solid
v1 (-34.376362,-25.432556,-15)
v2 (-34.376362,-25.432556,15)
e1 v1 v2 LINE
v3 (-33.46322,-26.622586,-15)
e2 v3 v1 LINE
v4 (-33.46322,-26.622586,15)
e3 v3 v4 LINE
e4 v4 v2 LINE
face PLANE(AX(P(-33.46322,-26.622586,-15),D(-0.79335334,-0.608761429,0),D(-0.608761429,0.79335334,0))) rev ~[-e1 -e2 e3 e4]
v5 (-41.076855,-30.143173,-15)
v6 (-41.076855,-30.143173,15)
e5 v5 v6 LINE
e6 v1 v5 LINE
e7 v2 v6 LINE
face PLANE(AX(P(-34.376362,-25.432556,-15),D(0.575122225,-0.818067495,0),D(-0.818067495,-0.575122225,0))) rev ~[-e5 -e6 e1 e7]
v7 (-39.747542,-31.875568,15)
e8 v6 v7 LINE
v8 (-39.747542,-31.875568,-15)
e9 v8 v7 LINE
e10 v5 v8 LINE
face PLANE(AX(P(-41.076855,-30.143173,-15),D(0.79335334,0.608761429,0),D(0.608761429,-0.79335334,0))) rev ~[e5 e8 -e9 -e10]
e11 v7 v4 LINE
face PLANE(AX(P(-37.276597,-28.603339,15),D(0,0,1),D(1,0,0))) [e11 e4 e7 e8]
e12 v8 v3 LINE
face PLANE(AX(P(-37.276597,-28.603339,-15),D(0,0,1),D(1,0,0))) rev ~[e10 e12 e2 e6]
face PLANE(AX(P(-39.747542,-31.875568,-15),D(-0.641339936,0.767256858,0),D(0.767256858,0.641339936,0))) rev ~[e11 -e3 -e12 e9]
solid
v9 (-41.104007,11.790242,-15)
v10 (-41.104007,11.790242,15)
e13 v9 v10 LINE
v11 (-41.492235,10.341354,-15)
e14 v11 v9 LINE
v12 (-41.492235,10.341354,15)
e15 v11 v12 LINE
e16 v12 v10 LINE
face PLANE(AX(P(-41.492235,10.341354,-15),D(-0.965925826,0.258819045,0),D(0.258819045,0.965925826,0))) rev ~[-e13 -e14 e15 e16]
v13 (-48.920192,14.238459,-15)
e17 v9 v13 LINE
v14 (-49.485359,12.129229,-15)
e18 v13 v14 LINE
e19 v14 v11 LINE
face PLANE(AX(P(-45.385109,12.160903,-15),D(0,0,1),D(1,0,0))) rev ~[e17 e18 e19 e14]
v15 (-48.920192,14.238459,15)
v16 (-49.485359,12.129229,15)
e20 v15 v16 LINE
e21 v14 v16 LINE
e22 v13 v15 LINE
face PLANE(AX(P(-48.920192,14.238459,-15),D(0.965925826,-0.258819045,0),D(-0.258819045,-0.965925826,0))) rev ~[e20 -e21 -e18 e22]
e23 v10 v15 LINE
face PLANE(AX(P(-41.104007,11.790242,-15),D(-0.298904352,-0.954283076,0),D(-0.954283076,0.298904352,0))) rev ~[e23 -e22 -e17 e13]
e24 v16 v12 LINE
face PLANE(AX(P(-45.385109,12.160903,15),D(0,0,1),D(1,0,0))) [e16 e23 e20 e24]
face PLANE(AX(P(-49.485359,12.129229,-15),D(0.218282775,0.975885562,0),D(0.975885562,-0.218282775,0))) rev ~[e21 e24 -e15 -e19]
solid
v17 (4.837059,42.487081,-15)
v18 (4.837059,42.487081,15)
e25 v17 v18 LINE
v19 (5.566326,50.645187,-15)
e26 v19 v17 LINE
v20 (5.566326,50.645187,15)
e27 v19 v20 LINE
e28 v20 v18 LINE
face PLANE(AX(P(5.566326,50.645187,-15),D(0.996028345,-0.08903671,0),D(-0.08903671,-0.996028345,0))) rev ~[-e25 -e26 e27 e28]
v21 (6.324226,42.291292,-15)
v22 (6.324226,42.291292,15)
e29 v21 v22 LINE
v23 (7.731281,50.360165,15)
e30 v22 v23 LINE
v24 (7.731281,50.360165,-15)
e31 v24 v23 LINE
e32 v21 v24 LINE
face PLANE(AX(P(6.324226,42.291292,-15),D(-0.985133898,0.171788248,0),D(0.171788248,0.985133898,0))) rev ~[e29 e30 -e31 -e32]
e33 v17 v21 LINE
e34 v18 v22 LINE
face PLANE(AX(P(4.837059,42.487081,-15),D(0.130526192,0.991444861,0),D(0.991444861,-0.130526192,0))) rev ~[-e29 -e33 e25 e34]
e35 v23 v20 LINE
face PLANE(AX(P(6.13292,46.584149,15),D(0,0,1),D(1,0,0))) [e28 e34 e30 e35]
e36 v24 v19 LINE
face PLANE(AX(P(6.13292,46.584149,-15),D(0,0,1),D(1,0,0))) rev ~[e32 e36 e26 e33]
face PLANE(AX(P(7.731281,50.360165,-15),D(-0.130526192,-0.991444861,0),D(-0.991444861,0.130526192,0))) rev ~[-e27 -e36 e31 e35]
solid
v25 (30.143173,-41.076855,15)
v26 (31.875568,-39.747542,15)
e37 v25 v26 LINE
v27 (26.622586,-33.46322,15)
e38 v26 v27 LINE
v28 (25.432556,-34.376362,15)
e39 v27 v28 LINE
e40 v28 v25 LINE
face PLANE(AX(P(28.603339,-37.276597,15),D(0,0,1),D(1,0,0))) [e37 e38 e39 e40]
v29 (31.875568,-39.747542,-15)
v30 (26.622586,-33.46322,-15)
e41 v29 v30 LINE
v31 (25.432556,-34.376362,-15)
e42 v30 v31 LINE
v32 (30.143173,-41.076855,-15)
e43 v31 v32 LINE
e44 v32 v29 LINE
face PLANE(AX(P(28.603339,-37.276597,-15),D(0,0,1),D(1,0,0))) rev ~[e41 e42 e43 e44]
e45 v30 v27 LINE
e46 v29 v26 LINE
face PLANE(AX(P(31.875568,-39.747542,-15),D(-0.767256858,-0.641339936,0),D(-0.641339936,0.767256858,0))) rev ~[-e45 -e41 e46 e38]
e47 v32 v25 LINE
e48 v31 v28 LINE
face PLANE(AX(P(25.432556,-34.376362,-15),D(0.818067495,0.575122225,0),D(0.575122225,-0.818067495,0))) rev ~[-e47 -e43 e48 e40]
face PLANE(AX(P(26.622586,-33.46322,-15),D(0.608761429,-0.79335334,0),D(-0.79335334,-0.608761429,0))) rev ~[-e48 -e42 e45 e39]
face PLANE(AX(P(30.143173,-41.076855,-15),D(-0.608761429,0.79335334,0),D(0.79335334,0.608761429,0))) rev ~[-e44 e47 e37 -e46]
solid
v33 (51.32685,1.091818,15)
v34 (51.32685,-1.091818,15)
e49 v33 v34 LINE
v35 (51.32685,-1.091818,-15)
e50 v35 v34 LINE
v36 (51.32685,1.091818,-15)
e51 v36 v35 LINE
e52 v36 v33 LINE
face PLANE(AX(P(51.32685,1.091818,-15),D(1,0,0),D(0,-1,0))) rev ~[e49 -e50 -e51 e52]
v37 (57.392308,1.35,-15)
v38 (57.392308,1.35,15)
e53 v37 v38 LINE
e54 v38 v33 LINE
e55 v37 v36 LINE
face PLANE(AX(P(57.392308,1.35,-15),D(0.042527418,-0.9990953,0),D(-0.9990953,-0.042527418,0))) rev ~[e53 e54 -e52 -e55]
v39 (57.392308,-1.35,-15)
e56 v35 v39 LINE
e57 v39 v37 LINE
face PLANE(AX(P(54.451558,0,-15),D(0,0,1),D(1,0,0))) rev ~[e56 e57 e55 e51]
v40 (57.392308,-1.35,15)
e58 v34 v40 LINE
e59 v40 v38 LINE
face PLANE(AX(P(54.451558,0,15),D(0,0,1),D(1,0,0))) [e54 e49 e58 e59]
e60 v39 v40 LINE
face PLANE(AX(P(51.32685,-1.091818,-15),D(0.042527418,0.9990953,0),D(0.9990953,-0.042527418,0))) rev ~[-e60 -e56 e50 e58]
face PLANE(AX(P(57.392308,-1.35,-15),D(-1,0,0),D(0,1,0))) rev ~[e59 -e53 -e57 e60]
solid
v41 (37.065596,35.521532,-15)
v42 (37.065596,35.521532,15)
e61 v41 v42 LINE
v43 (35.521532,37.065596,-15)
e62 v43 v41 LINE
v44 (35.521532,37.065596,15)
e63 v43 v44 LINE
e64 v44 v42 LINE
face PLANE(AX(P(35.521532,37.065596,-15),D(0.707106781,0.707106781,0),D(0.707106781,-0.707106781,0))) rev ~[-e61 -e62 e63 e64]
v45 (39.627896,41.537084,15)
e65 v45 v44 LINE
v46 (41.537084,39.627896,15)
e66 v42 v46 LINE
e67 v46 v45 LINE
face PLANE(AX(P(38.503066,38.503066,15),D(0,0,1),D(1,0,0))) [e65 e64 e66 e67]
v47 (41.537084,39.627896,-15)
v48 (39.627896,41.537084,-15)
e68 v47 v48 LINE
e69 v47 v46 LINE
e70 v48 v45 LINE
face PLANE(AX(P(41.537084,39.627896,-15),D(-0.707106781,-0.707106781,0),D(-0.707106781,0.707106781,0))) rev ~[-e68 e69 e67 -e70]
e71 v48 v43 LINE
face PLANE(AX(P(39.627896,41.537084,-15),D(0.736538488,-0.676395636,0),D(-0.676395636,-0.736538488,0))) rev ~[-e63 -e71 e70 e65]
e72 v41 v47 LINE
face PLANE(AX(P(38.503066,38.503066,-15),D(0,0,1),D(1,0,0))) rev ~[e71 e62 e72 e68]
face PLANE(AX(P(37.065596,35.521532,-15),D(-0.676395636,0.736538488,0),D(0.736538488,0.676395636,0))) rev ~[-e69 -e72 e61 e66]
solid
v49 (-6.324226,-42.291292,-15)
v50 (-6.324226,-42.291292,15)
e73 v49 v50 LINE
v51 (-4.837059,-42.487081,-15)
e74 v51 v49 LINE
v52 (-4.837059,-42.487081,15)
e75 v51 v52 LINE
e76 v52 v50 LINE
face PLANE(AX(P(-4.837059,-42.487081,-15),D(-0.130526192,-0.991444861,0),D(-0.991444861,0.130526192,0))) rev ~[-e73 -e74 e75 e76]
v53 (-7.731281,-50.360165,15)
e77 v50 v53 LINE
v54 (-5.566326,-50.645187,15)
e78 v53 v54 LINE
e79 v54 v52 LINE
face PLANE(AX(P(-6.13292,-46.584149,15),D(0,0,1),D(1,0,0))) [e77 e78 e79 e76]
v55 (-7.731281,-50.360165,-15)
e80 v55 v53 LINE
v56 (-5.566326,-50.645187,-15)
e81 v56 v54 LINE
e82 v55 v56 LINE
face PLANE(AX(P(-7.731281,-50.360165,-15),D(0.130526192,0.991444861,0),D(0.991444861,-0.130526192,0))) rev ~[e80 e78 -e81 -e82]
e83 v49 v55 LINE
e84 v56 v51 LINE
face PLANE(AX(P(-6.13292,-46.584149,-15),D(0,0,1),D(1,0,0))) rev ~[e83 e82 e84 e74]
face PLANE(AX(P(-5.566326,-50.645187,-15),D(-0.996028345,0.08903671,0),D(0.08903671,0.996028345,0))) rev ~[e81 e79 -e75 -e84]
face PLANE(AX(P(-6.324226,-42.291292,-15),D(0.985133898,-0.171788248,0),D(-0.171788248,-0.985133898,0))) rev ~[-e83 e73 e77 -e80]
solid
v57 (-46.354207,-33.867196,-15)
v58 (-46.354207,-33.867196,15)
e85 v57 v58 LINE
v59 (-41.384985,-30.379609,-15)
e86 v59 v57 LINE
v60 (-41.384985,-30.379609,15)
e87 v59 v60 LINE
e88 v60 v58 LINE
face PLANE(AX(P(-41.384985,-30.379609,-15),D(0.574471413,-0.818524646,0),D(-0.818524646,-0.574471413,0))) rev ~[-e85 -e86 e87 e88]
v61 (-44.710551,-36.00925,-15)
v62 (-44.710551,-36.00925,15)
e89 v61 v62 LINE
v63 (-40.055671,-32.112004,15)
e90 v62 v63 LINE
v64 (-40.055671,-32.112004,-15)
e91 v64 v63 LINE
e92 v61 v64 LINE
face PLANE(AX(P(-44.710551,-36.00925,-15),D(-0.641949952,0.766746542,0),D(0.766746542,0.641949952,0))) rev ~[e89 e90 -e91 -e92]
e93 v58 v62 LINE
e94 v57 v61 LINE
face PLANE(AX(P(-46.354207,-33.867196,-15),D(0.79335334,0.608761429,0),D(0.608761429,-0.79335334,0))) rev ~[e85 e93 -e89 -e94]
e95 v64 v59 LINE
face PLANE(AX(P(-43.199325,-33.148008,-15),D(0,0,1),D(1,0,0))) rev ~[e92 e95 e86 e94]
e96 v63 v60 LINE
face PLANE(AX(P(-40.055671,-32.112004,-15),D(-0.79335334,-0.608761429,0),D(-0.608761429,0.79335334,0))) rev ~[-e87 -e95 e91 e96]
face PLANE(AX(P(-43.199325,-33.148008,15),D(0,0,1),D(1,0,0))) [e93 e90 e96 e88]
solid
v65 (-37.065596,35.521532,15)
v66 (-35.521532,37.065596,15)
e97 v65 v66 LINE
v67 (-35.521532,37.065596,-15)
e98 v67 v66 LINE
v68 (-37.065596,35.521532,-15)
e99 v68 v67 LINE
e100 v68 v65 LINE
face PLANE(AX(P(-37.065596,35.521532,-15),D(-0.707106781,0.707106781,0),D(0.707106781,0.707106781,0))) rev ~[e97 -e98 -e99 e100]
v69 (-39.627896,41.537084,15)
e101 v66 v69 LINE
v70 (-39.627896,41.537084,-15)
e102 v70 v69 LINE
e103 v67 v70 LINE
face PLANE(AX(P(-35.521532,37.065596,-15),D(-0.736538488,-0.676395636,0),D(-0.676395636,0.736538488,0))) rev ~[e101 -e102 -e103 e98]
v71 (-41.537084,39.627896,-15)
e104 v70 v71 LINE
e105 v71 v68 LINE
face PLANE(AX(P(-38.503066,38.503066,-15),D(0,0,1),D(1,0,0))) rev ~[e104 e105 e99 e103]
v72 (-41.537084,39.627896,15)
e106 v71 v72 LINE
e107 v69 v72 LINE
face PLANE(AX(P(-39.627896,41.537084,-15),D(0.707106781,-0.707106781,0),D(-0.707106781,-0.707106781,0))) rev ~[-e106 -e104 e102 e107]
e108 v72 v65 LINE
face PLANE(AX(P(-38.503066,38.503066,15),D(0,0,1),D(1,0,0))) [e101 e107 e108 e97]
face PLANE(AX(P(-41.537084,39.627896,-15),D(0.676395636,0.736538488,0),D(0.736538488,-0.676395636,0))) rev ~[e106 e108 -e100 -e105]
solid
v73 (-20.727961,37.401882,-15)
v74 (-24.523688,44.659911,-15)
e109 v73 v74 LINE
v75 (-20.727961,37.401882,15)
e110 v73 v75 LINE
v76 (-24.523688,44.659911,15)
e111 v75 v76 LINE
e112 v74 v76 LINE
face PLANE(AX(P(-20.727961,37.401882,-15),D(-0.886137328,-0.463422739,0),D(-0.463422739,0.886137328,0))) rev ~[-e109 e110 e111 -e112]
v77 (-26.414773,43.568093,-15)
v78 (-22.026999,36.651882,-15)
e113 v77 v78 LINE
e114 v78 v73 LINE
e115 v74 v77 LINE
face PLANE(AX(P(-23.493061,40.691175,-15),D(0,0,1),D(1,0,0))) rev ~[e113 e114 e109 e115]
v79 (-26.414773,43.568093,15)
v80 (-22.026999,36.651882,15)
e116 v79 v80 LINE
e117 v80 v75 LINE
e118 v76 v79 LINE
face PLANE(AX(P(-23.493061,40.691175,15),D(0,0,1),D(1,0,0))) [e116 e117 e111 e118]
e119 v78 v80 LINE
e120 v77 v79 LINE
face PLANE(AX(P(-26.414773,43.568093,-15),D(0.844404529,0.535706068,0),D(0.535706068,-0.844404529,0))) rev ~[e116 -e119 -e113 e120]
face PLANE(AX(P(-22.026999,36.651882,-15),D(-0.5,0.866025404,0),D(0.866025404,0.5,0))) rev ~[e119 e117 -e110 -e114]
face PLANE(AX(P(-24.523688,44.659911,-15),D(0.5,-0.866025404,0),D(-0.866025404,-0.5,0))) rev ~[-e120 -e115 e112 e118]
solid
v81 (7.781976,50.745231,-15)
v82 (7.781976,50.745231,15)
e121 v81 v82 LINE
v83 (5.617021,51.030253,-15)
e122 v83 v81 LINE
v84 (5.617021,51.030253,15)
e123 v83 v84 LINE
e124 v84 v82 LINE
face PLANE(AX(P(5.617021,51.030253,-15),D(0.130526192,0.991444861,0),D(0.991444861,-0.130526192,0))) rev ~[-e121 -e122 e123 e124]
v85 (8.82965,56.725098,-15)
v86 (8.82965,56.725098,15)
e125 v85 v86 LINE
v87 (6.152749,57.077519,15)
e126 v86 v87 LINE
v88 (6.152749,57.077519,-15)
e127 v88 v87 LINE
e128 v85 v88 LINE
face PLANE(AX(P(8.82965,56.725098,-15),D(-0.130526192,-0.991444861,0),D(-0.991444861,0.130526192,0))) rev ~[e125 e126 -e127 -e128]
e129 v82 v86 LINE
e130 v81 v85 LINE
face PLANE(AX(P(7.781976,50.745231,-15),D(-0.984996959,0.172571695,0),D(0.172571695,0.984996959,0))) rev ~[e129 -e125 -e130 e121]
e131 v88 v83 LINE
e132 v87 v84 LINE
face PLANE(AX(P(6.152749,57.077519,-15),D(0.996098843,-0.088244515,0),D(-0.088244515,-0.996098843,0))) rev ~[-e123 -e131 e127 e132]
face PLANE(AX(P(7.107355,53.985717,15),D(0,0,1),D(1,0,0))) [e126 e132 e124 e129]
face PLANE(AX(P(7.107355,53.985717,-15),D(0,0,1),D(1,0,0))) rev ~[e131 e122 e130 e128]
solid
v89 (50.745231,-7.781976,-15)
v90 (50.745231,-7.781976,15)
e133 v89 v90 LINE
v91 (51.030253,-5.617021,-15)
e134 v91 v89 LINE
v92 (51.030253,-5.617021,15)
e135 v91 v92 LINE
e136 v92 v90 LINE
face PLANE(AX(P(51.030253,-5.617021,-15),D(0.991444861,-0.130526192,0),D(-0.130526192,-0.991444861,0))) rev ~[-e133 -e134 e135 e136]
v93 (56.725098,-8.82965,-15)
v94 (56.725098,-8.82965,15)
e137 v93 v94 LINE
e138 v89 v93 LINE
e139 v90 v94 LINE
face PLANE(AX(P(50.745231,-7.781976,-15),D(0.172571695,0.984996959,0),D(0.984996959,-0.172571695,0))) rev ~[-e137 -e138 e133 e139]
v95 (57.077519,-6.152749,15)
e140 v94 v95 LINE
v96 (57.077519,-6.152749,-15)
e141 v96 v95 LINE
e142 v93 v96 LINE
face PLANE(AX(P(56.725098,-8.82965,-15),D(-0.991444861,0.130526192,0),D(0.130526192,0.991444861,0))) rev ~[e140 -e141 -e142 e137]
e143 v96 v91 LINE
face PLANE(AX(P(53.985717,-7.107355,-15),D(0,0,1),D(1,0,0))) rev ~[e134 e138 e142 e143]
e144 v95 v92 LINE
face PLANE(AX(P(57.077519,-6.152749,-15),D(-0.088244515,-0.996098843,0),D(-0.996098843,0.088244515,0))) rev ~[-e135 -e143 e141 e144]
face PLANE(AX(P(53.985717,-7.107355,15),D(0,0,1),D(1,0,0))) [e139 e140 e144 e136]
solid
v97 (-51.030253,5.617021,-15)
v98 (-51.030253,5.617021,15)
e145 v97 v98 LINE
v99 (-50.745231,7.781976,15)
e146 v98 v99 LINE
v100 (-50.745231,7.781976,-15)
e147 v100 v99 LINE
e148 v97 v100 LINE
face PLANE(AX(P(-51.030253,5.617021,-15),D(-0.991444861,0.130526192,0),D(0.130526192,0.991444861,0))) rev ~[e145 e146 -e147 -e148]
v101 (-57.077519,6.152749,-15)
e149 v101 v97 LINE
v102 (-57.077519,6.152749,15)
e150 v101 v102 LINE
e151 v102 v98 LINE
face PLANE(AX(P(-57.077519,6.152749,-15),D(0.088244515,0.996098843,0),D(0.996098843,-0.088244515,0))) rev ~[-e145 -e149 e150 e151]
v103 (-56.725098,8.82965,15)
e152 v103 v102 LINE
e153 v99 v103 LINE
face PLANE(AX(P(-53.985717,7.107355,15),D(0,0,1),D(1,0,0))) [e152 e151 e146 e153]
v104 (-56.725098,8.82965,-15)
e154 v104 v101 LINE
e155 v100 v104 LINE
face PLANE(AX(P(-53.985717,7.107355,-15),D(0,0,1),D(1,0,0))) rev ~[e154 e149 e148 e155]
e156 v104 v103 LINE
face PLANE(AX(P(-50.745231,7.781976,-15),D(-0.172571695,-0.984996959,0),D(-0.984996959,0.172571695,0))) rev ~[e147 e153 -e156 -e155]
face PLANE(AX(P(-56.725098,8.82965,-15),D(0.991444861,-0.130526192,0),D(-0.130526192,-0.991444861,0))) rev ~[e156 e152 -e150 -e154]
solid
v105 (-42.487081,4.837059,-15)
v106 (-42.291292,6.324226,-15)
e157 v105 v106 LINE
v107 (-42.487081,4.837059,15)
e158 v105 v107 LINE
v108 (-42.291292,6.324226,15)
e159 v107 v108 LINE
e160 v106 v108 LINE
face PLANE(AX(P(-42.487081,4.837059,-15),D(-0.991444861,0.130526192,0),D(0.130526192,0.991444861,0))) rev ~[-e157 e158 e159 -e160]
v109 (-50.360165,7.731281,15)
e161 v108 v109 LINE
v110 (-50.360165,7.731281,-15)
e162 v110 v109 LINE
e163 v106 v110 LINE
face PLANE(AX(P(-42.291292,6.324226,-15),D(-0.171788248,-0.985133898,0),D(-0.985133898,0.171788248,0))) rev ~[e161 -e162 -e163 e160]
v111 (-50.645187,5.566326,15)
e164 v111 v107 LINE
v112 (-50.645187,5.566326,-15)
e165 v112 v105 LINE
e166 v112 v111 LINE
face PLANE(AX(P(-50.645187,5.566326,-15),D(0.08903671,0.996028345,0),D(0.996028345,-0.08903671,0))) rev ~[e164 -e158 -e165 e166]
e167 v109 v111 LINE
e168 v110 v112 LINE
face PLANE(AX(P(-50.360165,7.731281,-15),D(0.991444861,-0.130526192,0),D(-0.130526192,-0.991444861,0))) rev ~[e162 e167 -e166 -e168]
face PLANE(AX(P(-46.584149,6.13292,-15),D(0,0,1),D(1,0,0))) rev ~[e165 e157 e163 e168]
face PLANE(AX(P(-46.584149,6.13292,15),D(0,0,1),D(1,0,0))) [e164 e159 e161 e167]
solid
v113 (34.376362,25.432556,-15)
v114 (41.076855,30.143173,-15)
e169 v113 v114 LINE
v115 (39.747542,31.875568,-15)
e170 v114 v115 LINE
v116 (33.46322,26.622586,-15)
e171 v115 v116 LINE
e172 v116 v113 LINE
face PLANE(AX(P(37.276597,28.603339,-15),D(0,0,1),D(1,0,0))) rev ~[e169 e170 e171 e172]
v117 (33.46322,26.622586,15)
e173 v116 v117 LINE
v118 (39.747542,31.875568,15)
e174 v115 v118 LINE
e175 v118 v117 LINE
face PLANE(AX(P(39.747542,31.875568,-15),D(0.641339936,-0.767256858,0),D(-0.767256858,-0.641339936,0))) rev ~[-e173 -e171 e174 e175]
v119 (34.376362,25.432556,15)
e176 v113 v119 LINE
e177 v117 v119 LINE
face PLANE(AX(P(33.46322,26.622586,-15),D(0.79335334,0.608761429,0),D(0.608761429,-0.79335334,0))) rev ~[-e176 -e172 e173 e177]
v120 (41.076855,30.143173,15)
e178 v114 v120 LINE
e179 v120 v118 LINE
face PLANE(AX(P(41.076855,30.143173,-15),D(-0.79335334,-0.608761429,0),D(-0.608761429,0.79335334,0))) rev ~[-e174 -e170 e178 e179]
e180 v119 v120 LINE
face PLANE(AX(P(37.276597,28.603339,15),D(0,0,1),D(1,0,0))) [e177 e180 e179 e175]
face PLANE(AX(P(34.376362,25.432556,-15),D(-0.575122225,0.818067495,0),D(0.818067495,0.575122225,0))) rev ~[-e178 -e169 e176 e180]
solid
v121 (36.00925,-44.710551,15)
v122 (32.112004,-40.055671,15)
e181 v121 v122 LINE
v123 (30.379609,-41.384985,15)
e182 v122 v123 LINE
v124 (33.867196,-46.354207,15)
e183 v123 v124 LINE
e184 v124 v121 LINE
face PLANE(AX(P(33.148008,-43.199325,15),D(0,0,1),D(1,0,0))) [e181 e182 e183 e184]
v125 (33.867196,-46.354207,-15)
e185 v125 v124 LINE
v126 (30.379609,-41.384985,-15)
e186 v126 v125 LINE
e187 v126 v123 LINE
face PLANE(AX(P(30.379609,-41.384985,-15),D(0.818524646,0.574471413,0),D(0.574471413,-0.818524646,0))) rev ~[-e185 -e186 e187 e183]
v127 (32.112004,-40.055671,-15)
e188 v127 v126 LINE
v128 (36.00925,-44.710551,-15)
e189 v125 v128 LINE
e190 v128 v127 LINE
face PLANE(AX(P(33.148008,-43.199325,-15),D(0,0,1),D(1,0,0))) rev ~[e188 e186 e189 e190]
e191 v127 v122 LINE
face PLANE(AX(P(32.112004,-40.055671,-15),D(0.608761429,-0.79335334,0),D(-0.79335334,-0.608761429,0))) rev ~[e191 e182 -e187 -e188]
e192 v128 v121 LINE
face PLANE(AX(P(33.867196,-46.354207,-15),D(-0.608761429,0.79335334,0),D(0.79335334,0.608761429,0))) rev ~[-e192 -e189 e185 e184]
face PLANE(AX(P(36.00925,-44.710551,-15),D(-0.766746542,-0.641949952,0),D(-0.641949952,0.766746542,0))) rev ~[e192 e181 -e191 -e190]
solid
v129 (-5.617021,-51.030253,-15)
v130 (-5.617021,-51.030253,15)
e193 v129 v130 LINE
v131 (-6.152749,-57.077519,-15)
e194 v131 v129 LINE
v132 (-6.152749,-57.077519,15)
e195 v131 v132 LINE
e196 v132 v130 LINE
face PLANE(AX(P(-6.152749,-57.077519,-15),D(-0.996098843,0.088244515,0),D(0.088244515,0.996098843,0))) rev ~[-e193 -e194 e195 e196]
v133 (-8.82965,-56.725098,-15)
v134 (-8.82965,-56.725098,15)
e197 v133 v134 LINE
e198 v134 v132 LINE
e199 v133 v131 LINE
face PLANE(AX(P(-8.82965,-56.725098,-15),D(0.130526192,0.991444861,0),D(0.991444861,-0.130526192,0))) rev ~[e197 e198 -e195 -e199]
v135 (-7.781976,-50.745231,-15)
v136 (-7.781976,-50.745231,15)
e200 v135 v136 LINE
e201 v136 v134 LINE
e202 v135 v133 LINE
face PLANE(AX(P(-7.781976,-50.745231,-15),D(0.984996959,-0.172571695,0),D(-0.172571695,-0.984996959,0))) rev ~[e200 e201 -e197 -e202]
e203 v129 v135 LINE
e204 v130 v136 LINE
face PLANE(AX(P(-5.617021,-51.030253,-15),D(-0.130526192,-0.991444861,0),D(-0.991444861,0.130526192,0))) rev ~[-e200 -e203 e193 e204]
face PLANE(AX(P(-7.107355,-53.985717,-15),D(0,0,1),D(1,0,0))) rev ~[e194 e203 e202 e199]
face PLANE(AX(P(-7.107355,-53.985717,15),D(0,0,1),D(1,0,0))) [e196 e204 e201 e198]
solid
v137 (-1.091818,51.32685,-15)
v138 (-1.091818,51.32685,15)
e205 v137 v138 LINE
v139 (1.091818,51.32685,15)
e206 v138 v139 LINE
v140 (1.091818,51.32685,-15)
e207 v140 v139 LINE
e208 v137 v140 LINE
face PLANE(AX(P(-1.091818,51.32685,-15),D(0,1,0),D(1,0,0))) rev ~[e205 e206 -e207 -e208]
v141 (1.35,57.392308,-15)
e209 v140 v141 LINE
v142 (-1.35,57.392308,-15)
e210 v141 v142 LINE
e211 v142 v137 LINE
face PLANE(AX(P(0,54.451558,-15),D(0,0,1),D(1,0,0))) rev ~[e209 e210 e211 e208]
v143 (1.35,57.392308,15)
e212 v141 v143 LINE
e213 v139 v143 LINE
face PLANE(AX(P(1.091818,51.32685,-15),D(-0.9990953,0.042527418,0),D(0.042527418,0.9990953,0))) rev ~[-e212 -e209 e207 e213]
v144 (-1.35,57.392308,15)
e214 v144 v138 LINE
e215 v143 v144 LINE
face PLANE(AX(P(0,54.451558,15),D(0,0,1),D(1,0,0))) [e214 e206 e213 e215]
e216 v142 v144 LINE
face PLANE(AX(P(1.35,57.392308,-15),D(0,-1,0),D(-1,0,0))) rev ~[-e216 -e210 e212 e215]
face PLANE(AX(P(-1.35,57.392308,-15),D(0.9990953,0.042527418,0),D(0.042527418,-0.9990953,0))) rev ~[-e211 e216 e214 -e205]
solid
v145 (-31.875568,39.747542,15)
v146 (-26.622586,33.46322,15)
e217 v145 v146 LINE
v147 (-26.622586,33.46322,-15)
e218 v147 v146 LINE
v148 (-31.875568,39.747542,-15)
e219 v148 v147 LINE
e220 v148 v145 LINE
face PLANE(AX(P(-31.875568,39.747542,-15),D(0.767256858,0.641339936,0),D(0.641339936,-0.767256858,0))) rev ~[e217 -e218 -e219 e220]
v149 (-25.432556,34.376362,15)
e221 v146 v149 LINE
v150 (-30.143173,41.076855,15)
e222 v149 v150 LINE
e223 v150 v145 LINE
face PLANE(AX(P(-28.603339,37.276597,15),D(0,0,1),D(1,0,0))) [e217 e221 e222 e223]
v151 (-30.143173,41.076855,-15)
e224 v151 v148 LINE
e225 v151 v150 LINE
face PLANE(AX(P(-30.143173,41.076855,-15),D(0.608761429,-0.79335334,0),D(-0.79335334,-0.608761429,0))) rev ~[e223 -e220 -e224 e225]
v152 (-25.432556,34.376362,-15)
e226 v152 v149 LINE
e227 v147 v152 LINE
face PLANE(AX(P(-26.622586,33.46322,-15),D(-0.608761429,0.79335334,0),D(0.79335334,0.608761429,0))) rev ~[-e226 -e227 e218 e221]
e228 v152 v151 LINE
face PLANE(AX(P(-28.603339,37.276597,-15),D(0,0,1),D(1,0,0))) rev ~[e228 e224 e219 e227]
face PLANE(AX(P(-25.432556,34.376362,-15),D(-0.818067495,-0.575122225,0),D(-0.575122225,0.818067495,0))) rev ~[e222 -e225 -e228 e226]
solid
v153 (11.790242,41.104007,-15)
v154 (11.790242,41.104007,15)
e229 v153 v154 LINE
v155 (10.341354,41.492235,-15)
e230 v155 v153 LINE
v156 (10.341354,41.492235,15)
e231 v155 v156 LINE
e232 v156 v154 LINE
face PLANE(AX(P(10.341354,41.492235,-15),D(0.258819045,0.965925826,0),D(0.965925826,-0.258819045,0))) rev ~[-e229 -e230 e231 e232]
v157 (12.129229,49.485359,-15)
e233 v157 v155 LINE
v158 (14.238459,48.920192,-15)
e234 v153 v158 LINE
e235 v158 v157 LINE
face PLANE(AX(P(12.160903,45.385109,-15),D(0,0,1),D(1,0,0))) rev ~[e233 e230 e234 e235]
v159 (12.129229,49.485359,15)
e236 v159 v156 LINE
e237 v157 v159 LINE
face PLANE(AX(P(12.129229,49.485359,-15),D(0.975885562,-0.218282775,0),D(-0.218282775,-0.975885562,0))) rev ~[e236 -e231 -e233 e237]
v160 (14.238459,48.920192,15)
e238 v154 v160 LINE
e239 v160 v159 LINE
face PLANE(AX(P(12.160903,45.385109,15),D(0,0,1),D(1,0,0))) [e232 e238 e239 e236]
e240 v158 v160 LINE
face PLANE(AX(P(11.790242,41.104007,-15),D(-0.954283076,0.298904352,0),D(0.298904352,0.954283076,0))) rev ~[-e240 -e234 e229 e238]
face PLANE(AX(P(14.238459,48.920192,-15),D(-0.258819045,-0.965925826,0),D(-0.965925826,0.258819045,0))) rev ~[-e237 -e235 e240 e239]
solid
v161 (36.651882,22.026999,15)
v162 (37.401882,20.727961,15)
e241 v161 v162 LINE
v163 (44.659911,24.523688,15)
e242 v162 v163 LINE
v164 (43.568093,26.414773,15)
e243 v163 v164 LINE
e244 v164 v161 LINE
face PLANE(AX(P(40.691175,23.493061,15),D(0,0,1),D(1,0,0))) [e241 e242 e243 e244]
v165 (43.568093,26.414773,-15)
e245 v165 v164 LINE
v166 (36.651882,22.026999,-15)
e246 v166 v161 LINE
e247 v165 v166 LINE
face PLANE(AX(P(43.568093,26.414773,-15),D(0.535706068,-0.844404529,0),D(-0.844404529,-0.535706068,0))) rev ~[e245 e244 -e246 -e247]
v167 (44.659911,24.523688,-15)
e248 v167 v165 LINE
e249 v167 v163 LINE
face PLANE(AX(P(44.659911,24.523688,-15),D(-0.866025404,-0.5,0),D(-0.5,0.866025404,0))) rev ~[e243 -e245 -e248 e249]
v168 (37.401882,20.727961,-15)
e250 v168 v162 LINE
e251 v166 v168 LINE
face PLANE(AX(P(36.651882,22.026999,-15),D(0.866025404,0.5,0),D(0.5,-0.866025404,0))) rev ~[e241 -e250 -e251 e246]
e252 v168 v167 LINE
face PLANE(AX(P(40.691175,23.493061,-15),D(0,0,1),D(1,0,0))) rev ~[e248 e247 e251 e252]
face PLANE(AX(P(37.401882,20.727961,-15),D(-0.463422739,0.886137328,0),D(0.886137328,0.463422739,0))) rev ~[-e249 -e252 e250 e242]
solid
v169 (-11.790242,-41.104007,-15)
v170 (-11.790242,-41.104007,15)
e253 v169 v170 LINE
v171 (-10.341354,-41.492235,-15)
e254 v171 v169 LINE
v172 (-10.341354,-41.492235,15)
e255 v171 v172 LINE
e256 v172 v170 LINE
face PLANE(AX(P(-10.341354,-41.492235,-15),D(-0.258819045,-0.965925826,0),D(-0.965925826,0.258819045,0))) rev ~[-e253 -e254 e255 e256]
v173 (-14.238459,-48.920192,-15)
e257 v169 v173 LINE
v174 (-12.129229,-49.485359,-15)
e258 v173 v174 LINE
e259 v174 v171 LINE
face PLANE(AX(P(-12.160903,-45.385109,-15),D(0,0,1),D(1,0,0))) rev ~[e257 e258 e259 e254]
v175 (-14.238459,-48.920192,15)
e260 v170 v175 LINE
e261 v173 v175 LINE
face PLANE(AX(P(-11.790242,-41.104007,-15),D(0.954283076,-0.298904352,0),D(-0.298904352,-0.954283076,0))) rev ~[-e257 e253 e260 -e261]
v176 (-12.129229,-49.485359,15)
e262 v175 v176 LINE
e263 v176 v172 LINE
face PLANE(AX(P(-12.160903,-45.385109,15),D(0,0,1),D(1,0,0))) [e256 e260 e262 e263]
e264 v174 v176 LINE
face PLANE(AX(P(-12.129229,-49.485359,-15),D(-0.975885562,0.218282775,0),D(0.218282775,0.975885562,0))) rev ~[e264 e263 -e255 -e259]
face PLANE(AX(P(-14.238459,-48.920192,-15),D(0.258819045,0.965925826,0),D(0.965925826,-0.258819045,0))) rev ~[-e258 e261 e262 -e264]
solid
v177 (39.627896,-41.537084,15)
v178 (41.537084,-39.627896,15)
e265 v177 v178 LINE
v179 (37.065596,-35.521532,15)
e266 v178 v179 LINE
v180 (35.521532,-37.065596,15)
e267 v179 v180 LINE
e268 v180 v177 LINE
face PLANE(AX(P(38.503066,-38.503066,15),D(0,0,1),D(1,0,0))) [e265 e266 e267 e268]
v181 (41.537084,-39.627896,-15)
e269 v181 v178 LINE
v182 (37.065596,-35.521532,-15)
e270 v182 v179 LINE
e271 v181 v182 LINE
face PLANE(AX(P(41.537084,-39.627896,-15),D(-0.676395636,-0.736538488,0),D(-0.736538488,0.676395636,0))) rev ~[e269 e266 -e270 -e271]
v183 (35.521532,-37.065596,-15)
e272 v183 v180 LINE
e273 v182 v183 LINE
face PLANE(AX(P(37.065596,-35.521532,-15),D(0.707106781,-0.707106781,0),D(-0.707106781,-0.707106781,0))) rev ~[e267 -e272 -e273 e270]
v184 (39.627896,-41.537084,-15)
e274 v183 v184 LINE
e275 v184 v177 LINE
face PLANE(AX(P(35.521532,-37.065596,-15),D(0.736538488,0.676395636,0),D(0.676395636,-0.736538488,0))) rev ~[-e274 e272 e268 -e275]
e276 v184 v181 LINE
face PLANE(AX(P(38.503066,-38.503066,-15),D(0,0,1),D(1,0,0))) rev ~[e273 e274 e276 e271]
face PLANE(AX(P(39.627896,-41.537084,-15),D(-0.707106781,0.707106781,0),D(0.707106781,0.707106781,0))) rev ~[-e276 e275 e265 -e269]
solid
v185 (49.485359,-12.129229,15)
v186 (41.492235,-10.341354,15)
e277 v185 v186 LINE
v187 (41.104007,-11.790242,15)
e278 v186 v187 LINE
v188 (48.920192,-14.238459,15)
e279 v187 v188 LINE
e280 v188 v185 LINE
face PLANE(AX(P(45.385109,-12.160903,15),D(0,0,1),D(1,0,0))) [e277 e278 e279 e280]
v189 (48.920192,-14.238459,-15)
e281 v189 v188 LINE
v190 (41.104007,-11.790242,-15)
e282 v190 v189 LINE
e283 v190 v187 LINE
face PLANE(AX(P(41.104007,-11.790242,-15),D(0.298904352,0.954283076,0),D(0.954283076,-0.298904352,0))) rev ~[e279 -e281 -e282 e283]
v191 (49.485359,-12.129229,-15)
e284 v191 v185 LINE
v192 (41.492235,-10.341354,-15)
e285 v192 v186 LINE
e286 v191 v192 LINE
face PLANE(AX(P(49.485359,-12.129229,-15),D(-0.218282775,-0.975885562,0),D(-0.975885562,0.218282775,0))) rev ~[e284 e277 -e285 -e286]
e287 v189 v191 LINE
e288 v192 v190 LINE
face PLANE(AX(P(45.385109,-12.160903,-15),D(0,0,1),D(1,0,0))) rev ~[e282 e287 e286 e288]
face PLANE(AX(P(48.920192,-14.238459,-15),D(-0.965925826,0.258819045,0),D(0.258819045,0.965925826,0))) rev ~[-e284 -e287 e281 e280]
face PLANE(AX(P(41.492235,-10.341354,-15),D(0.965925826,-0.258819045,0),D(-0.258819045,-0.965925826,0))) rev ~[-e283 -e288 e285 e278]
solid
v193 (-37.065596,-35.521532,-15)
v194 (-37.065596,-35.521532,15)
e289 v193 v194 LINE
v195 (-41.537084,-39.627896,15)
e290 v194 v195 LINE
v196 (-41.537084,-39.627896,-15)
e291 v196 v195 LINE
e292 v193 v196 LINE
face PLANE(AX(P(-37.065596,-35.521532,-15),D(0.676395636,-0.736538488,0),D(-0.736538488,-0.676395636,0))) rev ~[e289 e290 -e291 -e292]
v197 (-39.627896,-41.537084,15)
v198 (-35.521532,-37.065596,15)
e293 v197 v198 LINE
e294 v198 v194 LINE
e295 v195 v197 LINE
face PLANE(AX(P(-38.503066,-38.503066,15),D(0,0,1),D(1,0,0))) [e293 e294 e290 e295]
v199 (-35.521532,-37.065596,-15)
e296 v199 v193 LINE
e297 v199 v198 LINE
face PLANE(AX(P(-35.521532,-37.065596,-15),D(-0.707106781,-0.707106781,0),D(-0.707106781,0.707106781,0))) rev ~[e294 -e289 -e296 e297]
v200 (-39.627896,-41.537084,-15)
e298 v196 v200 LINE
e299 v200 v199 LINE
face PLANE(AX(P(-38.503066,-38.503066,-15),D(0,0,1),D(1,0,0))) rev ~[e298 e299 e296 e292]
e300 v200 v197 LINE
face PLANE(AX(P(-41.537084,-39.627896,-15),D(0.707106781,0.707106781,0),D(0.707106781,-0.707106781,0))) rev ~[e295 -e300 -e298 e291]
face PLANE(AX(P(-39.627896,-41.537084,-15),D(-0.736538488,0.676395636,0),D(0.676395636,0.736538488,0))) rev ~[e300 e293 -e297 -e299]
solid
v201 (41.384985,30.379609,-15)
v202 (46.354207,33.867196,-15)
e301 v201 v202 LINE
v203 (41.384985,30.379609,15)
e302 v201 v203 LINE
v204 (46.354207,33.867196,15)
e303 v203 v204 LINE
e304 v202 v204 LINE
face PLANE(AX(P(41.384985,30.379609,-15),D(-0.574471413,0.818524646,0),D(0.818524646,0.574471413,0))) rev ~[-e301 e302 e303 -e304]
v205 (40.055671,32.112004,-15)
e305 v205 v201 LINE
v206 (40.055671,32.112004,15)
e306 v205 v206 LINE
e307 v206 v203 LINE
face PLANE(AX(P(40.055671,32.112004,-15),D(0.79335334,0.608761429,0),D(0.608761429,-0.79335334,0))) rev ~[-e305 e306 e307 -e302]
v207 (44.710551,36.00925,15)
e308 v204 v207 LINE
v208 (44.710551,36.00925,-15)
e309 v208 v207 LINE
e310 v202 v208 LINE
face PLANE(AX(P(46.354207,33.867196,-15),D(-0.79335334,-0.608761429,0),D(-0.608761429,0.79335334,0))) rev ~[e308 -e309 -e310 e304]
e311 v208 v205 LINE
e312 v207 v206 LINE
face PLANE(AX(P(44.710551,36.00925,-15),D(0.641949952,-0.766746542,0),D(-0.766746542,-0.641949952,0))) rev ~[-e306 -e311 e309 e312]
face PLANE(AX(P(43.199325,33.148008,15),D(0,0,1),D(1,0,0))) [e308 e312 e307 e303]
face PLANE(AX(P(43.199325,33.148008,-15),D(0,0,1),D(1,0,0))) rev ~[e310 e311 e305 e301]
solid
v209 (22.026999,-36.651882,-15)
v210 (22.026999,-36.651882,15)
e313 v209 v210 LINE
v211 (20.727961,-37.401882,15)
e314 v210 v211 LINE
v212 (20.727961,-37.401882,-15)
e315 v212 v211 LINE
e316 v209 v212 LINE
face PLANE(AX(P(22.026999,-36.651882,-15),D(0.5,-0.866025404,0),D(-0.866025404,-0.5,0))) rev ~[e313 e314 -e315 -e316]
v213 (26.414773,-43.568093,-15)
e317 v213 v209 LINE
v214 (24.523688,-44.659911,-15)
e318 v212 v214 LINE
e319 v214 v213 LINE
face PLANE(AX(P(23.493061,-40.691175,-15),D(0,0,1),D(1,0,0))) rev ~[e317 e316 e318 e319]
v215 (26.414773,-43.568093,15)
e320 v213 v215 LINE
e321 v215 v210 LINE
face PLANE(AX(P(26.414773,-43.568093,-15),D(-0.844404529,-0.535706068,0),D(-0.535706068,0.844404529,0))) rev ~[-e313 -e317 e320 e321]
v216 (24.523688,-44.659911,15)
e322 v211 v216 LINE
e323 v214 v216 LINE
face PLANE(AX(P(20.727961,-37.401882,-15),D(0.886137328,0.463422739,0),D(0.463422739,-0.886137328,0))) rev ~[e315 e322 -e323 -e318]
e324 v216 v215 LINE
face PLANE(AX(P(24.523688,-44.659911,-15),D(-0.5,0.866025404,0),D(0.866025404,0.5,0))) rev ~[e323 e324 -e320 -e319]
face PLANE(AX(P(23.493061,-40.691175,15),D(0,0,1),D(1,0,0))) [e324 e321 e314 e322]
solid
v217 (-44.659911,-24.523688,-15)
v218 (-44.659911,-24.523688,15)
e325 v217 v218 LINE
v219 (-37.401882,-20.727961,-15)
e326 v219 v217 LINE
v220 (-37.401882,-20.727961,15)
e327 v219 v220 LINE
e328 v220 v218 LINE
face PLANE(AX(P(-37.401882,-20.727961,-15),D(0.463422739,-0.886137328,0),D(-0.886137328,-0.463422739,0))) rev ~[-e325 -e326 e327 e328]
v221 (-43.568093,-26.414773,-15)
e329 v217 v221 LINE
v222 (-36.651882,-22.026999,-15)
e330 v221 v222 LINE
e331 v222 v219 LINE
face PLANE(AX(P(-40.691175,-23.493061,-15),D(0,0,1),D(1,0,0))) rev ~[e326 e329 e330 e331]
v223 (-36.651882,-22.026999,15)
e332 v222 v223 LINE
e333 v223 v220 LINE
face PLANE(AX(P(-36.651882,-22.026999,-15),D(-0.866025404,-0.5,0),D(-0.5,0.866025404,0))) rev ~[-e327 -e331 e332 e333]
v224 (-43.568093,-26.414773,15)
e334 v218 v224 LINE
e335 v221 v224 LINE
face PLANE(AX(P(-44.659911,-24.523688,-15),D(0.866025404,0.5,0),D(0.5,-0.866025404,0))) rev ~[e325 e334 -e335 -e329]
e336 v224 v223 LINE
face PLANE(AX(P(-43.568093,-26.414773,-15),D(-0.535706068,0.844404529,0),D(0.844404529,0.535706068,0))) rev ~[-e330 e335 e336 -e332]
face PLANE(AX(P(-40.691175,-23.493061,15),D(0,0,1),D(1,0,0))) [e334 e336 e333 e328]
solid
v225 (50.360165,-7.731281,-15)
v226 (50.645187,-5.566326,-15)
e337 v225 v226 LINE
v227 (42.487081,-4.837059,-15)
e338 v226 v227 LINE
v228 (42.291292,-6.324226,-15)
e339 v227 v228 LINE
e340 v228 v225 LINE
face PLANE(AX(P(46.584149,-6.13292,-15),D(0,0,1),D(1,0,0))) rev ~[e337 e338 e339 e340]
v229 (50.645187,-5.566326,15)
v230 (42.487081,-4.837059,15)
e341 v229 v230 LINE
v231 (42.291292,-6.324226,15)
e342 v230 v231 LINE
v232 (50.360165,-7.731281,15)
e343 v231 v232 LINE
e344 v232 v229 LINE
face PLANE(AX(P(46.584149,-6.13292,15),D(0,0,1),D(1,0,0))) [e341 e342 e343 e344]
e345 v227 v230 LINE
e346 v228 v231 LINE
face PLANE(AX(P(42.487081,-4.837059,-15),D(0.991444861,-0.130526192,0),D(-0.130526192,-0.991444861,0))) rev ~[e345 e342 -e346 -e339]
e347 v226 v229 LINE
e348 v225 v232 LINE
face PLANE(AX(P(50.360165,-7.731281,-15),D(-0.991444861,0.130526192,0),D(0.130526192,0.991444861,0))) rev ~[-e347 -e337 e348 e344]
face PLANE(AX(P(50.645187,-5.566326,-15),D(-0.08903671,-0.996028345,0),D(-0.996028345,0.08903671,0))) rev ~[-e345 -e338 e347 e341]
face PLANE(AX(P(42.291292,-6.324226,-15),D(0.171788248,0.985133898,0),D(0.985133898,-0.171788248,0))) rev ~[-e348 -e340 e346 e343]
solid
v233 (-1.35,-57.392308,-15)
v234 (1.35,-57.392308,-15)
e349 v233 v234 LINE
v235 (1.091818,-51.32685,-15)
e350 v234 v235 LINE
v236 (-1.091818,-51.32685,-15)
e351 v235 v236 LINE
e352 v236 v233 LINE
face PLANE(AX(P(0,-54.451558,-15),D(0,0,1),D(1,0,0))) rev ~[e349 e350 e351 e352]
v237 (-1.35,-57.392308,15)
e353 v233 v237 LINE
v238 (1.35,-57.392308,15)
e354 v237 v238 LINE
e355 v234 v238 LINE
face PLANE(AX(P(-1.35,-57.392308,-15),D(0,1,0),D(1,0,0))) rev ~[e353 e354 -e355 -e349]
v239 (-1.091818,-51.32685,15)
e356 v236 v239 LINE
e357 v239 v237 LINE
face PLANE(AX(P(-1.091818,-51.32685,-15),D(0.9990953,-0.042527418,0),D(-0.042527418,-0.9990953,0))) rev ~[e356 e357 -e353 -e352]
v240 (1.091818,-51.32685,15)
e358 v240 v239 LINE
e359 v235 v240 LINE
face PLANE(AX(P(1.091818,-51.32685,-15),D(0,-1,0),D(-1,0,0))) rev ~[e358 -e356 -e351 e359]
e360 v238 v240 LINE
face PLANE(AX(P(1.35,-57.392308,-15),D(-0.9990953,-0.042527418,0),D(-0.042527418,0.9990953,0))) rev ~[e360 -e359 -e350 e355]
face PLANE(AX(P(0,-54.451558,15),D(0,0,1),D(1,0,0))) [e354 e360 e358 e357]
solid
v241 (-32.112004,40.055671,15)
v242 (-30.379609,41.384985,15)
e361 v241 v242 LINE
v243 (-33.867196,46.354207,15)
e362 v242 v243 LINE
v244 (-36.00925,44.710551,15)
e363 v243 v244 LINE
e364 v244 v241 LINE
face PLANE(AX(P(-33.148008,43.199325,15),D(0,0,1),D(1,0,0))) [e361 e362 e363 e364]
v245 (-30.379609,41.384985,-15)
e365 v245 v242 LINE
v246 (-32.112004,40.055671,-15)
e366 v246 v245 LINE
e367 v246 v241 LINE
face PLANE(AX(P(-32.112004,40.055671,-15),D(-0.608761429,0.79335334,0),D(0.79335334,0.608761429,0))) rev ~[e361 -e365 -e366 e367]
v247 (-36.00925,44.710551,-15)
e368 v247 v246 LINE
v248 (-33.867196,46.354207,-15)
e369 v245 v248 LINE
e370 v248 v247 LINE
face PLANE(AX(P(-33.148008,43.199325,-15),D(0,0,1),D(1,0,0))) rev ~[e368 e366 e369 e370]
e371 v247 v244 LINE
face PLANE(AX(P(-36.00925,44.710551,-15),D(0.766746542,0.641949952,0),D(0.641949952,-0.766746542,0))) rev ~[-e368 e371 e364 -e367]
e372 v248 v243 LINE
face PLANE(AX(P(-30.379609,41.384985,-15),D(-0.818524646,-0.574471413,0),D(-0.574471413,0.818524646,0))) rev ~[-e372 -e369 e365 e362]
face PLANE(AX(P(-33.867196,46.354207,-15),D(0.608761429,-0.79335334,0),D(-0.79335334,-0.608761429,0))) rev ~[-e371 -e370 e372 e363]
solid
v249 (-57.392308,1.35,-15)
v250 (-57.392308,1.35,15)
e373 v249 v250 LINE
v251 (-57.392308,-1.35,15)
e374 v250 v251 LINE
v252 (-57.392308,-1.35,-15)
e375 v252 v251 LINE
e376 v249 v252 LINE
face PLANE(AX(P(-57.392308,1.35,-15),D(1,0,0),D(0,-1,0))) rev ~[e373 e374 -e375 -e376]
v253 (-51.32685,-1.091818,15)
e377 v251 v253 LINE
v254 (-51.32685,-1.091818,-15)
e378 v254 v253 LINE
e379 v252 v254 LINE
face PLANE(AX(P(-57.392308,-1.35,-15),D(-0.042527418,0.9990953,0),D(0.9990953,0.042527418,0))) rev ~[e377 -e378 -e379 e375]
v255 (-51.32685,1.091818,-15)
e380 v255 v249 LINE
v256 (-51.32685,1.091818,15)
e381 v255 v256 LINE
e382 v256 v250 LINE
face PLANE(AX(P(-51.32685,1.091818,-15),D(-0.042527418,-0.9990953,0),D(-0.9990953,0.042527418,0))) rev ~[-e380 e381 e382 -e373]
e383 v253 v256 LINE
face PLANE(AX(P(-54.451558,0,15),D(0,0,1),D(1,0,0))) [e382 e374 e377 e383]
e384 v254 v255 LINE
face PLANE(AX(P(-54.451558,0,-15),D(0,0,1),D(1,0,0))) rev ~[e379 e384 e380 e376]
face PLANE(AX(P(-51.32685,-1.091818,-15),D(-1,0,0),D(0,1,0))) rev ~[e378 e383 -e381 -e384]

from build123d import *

# Parameters (mm, degrees)
SLOT_COPPER_ENVELOPES_START    = -15
SLOT_COPPER_ENVELOPES_DEPTH    = 30
SLOT_COPPER_ENVELOPES_2_DEPTH  = 30
SLOT_COPPER_ENVELOPES_3_DEPTH  = 30
SLOT_COPPER_ENVELOPES_4_DEPTH  = 30
SLOT_COPPER_ENVELOPES_5_DEPTH  = 30
SLOT_COPPER_ENVELOPES_6_DEPTH  = 30
SLOT_COPPER_ENVELOPES_7_DEPTH  = 30
SLOT_COPPER_ENVELOPES_8_DEPTH  = 30
SLOT_COPPER_ENVELOPES_9_DEPTH  = 30
SLOT_COPPER_ENVELOPES_10_DEPTH = 30
SLOT_COPPER_ENVELOPES_11_DEPTH = 30
SLOT_COPPER_ENVELOPES_12_DEPTH = 30
SLOT_COPPER_ENVELOPES_13_DEPTH = 30
SLOT_COPPER_ENVELOPES_14_DEPTH = 30
SLOT_COPPER_ENVELOPES_15_DEPTH = 30
SLOT_COPPER_ENVELOPES_16_DEPTH = 30
SLOT_COPPER_ENVELOPES_17_DEPTH = 30
SLOT_COPPER_ENVELOPES_18_DEPTH = 30
SLOT_COPPER_ENVELOPES_19_DEPTH = 30
SLOT_COPPER_ENVELOPES_20_DEPTH = 30
SLOT_COPPER_ENVELOPES_21_DEPTH = 30
SLOT_COPPER_ENVELOPES_22_DEPTH = 30
SLOT_COPPER_ENVELOPES_23_DEPTH = 30
SLOT_COPPER_ENVELOPES_24_DEPTH = 30
SLOT_COPPER_ENVELOPES_25_DEPTH = 30
SLOT_COPPER_ENVELOPES_26_DEPTH = 30
SLOT_COPPER_ENVELOPES_27_DEPTH = 30
SLOT_COPPER_ENVELOPES_28_DEPTH = 30
SLOT_COPPER_ENVELOPES_29_DEPTH = 30
SLOT_COPPER_ENVELOPES_30_DEPTH = 30
SLOT_COPPER_ENVELOPES_31_DEPTH = 30
SLOT_COPPER_ENVELOPES_32_DEPTH = 30


with BuildPart() as part:
    # Эскиз1 → Slot_copper_envelopes (new body)
    with BuildSketch(Plane.XY.offset(SLOT_COPPER_ENVELOPES_START)):
        Polygon((51.326850344, -1.091818182), (57.392307692, -1.35), (57.392307692, 1.35), (51.326850344, 1.091818182), align=None)
    extrude(amount=SLOT_COPPER_ENVELOPES_DEPTH)


with BuildPart() as body_2:
    # Эскиз1 → Slot_copper_envelopes 2 (new body)
    with BuildSketch(Plane.XY.offset(SLOT_COPPER_ENVELOPES_START)):
        Polygon((37.401882176, 20.727961339), (44.659910813, 24.523688487), (43.568092631, 26.414773051), (36.651882176, 22.026999445), align=None)
    extrude(amount=SLOT_COPPER_ENVELOPES_2_DEPTH)


with BuildPart() as body_3:
    # Эскиз1 → Slot_copper_envelopes 3 (new body)
    with BuildSketch(Plane.XY.offset(SLOT_COPPER_ENVELOPES_START)):
        Polygon((41.384984963, 30.37960916), (46.354206944, 33.867196235), (44.710551086, 36.009250254), (40.05567137, 32.112004363), align=None)
    extrude(amount=SLOT_COPPER_ENVELOPES_3_DEPTH)


with BuildPart() as body_4:
    # Эскиз1 → Slot_copper_envelopes 4 (new body)
    with BuildSketch(Plane.XY.offset(SLOT_COPPER_ENVELOPES_START)):
        Polygon((34.376362023, 25.432556019), (41.076855407, 30.143173036), (39.747541814, 31.875568239), (33.46321988, 26.622586029), align=None)
    extrude(amount=SLOT_COPPER_ENVELOPES_4_DEPTH)


with BuildPart() as body_5:
    # Эскиз1 → Slot_copper_envelopes 5 (new body)
    with BuildSketch(Plane.XY.offset(SLOT_COPPER_ENVELOPES_START)):
        Polygon((37.065595975, 35.521531895), (41.537084112, 39.627895803), (39.627895803, 41.537084112), (35.521531895, 37.065595975), align=None)
    extrude(amount=SLOT_COPPER_ENVELOPES_5_DEPTH)


with BuildPart() as body_6:
    # Эскиз1 → Slot_copper_envelopes 6 (new body)
    with BuildSketch(Plane.XY.offset(SLOT_COPPER_ENVELOPES_START)):
        Polygon((11.790242493, 41.104006539), (14.238459354, 48.920192212), (12.129228595, 49.485358891), (10.341353754, 41.492235107), align=None)
    extrude(amount=SLOT_COPPER_ENVELOPES_6_DEPTH)


with BuildPart() as body_7:
    # Эскиз1 → Slot_copper_envelopes 7 (new body)
    with BuildSketch(Plane.XY.offset(SLOT_COPPER_ENVELOPES_START)):
        Polygon((7.78197586, 50.745231154), (8.829649949, 56.725098184), (6.152748823, 57.077518903), (5.617020808, 51.030252894), align=None)
    extrude(amount=SLOT_COPPER_ENVELOPES_7_DEPTH)


with BuildPart() as body_8:
    # Эскиз1 → Slot_copper_envelopes 8 (new body)
    with BuildSketch(Plane.XY.offset(SLOT_COPPER_ENVELOPES_START)):
        Polygon((6.324225876, 42.291291523), (7.731280948, 50.360165069), (5.566325896, 50.645186808), (4.837058584, 42.487080811), align=None)
    extrude(amount=SLOT_COPPER_ENVELOPES_8_DEPTH)


with BuildPart() as body_9:
    # Эскиз1 → Slot_copper_envelopes 9 (new body)
    with BuildSketch(Plane.XY.offset(SLOT_COPPER_ENVELOPES_START)):
        Polygon((1.091818182, 51.326850344), (1.35, 57.392307692), (-1.35, 57.392307692), (-1.091818182, 51.326850344), align=None)
    extrude(amount=SLOT_COPPER_ENVELOPES_9_DEPTH)


with BuildPart() as body_10:
    # Эскиз1 → Slot_copper_envelopes 10 (new body)
    with BuildSketch(Plane.XY.offset(SLOT_COPPER_ENVELOPES_START)):
        Polygon((-20.727961339, 37.401882176), (-24.523688487, 44.659910813), (-26.414773051, 43.568092631), (-22.026999445, 36.651882176), align=None)
    extrude(amount=SLOT_COPPER_ENVELOPES_10_DEPTH)


with BuildPart() as body_11:
    # Эскиз1 → Slot_copper_envelopes 11 (new body)
    with BuildSketch(Plane.XY.offset(SLOT_COPPER_ENVELOPES_START)):
        Polygon((-30.37960916, 41.384984963), (-33.867196235, 46.354206944), (-36.009250254, 44.710551086), (-32.112004363, 40.05567137), align=None)
    extrude(amount=SLOT_COPPER_ENVELOPES_11_DEPTH)


with BuildPart() as body_12:
    # Эскиз1 → Slot_copper_envelopes 12 (new body)
    with BuildSketch(Plane.XY.offset(SLOT_COPPER_ENVELOPES_START)):
        Polygon((-25.432556019, 34.376362023), (-30.143173036, 41.076855407), (-31.875568239, 39.747541814), (-26.622586029, 33.46321988), align=None)
    extrude(amount=SLOT_COPPER_ENVELOPES_12_DEPTH)


with BuildPart() as body_13:
    # Эскиз1 → Slot_copper_envelopes 13 (new body)
    with BuildSketch(Plane.XY.offset(SLOT_COPPER_ENVELOPES_START)):
        Polygon((-35.521531895, 37.065595975), (-39.627895803, 41.537084112), (-41.537084112, 39.627895803), (-37.065595975, 35.521531895), align=None)
    extrude(amount=SLOT_COPPER_ENVELOPES_13_DEPTH)


with BuildPart() as body_14:
    # Эскиз1 → Slot_copper_envelopes 14 (new body)
    with BuildSketch(Plane.XY.offset(SLOT_COPPER_ENVELOPES_START)):
        Polygon((-41.104006539, 11.790242493), (-48.920192212, 14.238459354), (-49.485358891, 12.129228595), (-41.492235107, 10.341353754), align=None)
    extrude(amount=SLOT_COPPER_ENVELOPES_14_DEPTH)


with BuildPart() as body_15:
    # Эскиз1 → Slot_copper_envelopes 15 (new body)
    with BuildSketch(Plane.XY.offset(SLOT_COPPER_ENVELOPES_START)):
        Polygon((-50.745231154, 7.78197586), (-56.725098184, 8.829649949), (-57.077518903, 6.152748823), (-51.030252894, 5.617020808), align=None)
    extrude(amount=SLOT_COPPER_ENVELOPES_15_DEPTH)


with BuildPart() as body_16:
    # Эскиз1 → Slot_copper_envelopes 16 (new body)
    with BuildSketch(Plane.XY.offset(SLOT_COPPER_ENVELOPES_START)):
        Polygon((-42.291291523, 6.324225876), (-50.360165069, 7.731280948), (-50.645186808, 5.566325896), (-42.487080811, 4.837058584), align=None)
    extrude(amount=SLOT_COPPER_ENVELOPES_16_DEPTH)


with BuildPart() as body_17:
    # Эскиз1 → Slot_copper_envelopes 17 (new body)
    with BuildSketch(Plane.XY.offset(SLOT_COPPER_ENVELOPES_START)):
        Polygon((-51.326850344, 1.091818182), (-57.392307692, 1.35), (-57.392307692, -1.35), (-51.326850344, -1.091818182), align=None)
    extrude(amount=SLOT_COPPER_ENVELOPES_17_DEPTH)


with BuildPart() as body_18:
    # Эскиз1 → Slot_copper_envelopes 18 (new body)
    with BuildSketch(Plane.XY.offset(SLOT_COPPER_ENVELOPES_START)):
        Polygon((-37.401882176, -20.727961339), (-44.659910813, -24.523688487), (-43.568092631, -26.414773051), (-36.651882176, -22.026999445), align=None)
    extrude(amount=SLOT_COPPER_ENVELOPES_18_DEPTH)


with BuildPart() as body_19:
    # Эскиз1 → Slot_copper_envelopes 19 (new body)
    with BuildSketch(Plane.XY.offset(SLOT_COPPER_ENVELOPES_START)):
        Polygon((-41.384984963, -30.37960916), (-46.354206944, -33.867196235), (-44.710551086, -36.009250254), (-40.05567137, -32.112004363), align=None)
    extrude(amount=SLOT_COPPER_ENVELOPES_19_DEPTH)


with BuildPart() as body_20:
    # Эскиз1 → Slot_copper_envelopes 20 (new body)
    with BuildSketch(Plane.XY.offset(SLOT_COPPER_ENVELOPES_START)):
        Polygon((-34.376362023, -25.432556019), (-41.076855407, -30.143173036), (-39.747541814, -31.875568239), (-33.46321988, -26.622586029), align=None)
    extrude(amount=SLOT_COPPER_ENVELOPES_20_DEPTH)


with BuildPart() as body_21:
    # Эскиз1 → Slot_copper_envelopes 21 (new body)
    with BuildSketch(Plane.XY.offset(SLOT_COPPER_ENVELOPES_START)):
        Polygon((-37.065595975, -35.521531895), (-41.537084112, -39.627895803), (-39.627895803, -41.537084112), (-35.521531895, -37.065595975), align=None)
    extrude(amount=SLOT_COPPER_ENVELOPES_21_DEPTH)


with BuildPart() as body_22:
    # Эскиз1 → Slot_copper_envelopes 22 (new body)
    with BuildSketch(Plane.XY.offset(SLOT_COPPER_ENVELOPES_START)):
        Polygon((-11.790242493, -41.104006539), (-14.238459354, -48.920192212), (-12.129228595, -49.485358891), (-10.341353754, -41.492235107), align=None)
    extrude(amount=SLOT_COPPER_ENVELOPES_22_DEPTH)


with BuildPart() as body_23:
    # Эскиз1 → Slot_copper_envelopes 23 (new body)
    with BuildSketch(Plane.XY.offset(SLOT_COPPER_ENVELOPES_START)):
        Polygon((-7.78197586, -50.745231154), (-8.829649949, -56.725098184), (-6.152748823, -57.077518903), (-5.617020808, -51.030252894), align=None)
    extrude(amount=SLOT_COPPER_ENVELOPES_23_DEPTH)


with BuildPart() as body_24:
    # Эскиз1 → Slot_copper_envelopes 24 (new body)
    with BuildSketch(Plane.XY.offset(SLOT_COPPER_ENVELOPES_START)):
        Polygon((-6.324225876, -42.291291523), (-7.731280948, -50.360165069), (-5.566325896, -50.645186808), (-4.837058584, -42.487080811), align=None)
    extrude(amount=SLOT_COPPER_ENVELOPES_24_DEPTH)


with BuildPart() as body_25:
    # Эскиз1 → Slot_copper_envelopes 25 (new body)
    with BuildSketch(Plane.XY.offset(SLOT_COPPER_ENVELOPES_START)):
        Polygon((-1.091818182, -51.326850344), (-1.35, -57.392307692), (1.35, -57.392307692), (1.091818182, -51.326850344), align=None)
    extrude(amount=SLOT_COPPER_ENVELOPES_25_DEPTH)


with BuildPart() as body_26:
    # Эскиз1 → Slot_copper_envelopes 26 (new body)
    with BuildSketch(Plane.XY.offset(SLOT_COPPER_ENVELOPES_START)):
        Polygon((20.727961339, -37.401882176), (24.523688487, -44.659910813), (26.414773051, -43.568092631), (22.026999445, -36.651882176), align=None)
    extrude(amount=SLOT_COPPER_ENVELOPES_26_DEPTH)


with BuildPart() as body_27:
    # Эскиз1 → Slot_copper_envelopes 27 (new body)
    with BuildSketch(Plane.XY.offset(SLOT_COPPER_ENVELOPES_START)):
        Polygon((30.37960916, -41.384984963), (33.867196235, -46.354206944), (36.009250254, -44.710551086), (32.112004363, -40.05567137), align=None)
    extrude(amount=SLOT_COPPER_ENVELOPES_27_DEPTH)


with BuildPart() as body_28:
    # Эскиз1 → Slot_copper_envelopes 28 (new body)
    with BuildSketch(Plane.XY.offset(SLOT_COPPER_ENVELOPES_START)):
        Polygon((25.432556019, -34.376362023), (30.143173036, -41.076855407), (31.875568239, -39.747541814), (26.622586029, -33.46321988), align=None)
    extrude(amount=SLOT_COPPER_ENVELOPES_28_DEPTH)


with BuildPart() as body_29:
    # Эскиз1 → Slot_copper_envelopes 29 (new body)
    with BuildSketch(Plane.XY.offset(SLOT_COPPER_ENVELOPES_START)):
        Polygon((35.521531895, -37.065595975), (39.627895803, -41.537084112), (41.537084112, -39.627895803), (37.065595975, -35.521531895), align=None)
    extrude(amount=SLOT_COPPER_ENVELOPES_29_DEPTH)


with BuildPart() as body_30:
    # Эскиз1 → Slot_copper_envelopes 30 (new body)
    with BuildSketch(Plane.XY.offset(SLOT_COPPER_ENVELOPES_START)):
        Polygon((41.104006539, -11.790242493), (48.920192212, -14.238459354), (49.485358891, -12.129228595), (41.492235107, -10.341353754), align=None)
    extrude(amount=SLOT_COPPER_ENVELOPES_30_DEPTH)


with BuildPart() as body_31:
    # Эскиз1 → Slot_copper_envelopes 31 (new body)
    with BuildSketch(Plane.XY.offset(SLOT_COPPER_ENVELOPES_START)):
        Polygon((50.745231154, -7.78197586), (56.725098184, -8.829649949), (57.077518903, -6.152748823), (51.030252894, -5.617020808), align=None)
    extrude(amount=SLOT_COPPER_ENVELOPES_31_DEPTH)


with BuildPart() as body_32:
    # Эскиз1 → Slot_copper_envelopes 32 (new body)
    with BuildSketch(Plane.XY.offset(SLOT_COPPER_ENVELOPES_START)):
        Polygon((42.291291523, -6.324225876), (50.360165069, -7.731280948), (50.645186808, -5.566325896), (42.487080811, -4.837058584), align=None)
    extrude(amount=SLOT_COPPER_ENVELOPES_32_DEPTH)


solid = Compound([part.part, body_2.part, body_3.part, body_4.part, body_5.part, body_6.part, body_7.part, body_8.part, body_9.part, body_10.part, body_11.part, body_12.part, body_13.part, body_14.part, body_15.part, body_16.part, body_17.part, body_18.part, body_19.part, body_20.part, body_21.part, body_22.part, body_23.part, body_24.part, body_25.part, body_26.part, body_27.part, body_28.part, body_29.part, body_30.part, body_31.part, body_32.part])
